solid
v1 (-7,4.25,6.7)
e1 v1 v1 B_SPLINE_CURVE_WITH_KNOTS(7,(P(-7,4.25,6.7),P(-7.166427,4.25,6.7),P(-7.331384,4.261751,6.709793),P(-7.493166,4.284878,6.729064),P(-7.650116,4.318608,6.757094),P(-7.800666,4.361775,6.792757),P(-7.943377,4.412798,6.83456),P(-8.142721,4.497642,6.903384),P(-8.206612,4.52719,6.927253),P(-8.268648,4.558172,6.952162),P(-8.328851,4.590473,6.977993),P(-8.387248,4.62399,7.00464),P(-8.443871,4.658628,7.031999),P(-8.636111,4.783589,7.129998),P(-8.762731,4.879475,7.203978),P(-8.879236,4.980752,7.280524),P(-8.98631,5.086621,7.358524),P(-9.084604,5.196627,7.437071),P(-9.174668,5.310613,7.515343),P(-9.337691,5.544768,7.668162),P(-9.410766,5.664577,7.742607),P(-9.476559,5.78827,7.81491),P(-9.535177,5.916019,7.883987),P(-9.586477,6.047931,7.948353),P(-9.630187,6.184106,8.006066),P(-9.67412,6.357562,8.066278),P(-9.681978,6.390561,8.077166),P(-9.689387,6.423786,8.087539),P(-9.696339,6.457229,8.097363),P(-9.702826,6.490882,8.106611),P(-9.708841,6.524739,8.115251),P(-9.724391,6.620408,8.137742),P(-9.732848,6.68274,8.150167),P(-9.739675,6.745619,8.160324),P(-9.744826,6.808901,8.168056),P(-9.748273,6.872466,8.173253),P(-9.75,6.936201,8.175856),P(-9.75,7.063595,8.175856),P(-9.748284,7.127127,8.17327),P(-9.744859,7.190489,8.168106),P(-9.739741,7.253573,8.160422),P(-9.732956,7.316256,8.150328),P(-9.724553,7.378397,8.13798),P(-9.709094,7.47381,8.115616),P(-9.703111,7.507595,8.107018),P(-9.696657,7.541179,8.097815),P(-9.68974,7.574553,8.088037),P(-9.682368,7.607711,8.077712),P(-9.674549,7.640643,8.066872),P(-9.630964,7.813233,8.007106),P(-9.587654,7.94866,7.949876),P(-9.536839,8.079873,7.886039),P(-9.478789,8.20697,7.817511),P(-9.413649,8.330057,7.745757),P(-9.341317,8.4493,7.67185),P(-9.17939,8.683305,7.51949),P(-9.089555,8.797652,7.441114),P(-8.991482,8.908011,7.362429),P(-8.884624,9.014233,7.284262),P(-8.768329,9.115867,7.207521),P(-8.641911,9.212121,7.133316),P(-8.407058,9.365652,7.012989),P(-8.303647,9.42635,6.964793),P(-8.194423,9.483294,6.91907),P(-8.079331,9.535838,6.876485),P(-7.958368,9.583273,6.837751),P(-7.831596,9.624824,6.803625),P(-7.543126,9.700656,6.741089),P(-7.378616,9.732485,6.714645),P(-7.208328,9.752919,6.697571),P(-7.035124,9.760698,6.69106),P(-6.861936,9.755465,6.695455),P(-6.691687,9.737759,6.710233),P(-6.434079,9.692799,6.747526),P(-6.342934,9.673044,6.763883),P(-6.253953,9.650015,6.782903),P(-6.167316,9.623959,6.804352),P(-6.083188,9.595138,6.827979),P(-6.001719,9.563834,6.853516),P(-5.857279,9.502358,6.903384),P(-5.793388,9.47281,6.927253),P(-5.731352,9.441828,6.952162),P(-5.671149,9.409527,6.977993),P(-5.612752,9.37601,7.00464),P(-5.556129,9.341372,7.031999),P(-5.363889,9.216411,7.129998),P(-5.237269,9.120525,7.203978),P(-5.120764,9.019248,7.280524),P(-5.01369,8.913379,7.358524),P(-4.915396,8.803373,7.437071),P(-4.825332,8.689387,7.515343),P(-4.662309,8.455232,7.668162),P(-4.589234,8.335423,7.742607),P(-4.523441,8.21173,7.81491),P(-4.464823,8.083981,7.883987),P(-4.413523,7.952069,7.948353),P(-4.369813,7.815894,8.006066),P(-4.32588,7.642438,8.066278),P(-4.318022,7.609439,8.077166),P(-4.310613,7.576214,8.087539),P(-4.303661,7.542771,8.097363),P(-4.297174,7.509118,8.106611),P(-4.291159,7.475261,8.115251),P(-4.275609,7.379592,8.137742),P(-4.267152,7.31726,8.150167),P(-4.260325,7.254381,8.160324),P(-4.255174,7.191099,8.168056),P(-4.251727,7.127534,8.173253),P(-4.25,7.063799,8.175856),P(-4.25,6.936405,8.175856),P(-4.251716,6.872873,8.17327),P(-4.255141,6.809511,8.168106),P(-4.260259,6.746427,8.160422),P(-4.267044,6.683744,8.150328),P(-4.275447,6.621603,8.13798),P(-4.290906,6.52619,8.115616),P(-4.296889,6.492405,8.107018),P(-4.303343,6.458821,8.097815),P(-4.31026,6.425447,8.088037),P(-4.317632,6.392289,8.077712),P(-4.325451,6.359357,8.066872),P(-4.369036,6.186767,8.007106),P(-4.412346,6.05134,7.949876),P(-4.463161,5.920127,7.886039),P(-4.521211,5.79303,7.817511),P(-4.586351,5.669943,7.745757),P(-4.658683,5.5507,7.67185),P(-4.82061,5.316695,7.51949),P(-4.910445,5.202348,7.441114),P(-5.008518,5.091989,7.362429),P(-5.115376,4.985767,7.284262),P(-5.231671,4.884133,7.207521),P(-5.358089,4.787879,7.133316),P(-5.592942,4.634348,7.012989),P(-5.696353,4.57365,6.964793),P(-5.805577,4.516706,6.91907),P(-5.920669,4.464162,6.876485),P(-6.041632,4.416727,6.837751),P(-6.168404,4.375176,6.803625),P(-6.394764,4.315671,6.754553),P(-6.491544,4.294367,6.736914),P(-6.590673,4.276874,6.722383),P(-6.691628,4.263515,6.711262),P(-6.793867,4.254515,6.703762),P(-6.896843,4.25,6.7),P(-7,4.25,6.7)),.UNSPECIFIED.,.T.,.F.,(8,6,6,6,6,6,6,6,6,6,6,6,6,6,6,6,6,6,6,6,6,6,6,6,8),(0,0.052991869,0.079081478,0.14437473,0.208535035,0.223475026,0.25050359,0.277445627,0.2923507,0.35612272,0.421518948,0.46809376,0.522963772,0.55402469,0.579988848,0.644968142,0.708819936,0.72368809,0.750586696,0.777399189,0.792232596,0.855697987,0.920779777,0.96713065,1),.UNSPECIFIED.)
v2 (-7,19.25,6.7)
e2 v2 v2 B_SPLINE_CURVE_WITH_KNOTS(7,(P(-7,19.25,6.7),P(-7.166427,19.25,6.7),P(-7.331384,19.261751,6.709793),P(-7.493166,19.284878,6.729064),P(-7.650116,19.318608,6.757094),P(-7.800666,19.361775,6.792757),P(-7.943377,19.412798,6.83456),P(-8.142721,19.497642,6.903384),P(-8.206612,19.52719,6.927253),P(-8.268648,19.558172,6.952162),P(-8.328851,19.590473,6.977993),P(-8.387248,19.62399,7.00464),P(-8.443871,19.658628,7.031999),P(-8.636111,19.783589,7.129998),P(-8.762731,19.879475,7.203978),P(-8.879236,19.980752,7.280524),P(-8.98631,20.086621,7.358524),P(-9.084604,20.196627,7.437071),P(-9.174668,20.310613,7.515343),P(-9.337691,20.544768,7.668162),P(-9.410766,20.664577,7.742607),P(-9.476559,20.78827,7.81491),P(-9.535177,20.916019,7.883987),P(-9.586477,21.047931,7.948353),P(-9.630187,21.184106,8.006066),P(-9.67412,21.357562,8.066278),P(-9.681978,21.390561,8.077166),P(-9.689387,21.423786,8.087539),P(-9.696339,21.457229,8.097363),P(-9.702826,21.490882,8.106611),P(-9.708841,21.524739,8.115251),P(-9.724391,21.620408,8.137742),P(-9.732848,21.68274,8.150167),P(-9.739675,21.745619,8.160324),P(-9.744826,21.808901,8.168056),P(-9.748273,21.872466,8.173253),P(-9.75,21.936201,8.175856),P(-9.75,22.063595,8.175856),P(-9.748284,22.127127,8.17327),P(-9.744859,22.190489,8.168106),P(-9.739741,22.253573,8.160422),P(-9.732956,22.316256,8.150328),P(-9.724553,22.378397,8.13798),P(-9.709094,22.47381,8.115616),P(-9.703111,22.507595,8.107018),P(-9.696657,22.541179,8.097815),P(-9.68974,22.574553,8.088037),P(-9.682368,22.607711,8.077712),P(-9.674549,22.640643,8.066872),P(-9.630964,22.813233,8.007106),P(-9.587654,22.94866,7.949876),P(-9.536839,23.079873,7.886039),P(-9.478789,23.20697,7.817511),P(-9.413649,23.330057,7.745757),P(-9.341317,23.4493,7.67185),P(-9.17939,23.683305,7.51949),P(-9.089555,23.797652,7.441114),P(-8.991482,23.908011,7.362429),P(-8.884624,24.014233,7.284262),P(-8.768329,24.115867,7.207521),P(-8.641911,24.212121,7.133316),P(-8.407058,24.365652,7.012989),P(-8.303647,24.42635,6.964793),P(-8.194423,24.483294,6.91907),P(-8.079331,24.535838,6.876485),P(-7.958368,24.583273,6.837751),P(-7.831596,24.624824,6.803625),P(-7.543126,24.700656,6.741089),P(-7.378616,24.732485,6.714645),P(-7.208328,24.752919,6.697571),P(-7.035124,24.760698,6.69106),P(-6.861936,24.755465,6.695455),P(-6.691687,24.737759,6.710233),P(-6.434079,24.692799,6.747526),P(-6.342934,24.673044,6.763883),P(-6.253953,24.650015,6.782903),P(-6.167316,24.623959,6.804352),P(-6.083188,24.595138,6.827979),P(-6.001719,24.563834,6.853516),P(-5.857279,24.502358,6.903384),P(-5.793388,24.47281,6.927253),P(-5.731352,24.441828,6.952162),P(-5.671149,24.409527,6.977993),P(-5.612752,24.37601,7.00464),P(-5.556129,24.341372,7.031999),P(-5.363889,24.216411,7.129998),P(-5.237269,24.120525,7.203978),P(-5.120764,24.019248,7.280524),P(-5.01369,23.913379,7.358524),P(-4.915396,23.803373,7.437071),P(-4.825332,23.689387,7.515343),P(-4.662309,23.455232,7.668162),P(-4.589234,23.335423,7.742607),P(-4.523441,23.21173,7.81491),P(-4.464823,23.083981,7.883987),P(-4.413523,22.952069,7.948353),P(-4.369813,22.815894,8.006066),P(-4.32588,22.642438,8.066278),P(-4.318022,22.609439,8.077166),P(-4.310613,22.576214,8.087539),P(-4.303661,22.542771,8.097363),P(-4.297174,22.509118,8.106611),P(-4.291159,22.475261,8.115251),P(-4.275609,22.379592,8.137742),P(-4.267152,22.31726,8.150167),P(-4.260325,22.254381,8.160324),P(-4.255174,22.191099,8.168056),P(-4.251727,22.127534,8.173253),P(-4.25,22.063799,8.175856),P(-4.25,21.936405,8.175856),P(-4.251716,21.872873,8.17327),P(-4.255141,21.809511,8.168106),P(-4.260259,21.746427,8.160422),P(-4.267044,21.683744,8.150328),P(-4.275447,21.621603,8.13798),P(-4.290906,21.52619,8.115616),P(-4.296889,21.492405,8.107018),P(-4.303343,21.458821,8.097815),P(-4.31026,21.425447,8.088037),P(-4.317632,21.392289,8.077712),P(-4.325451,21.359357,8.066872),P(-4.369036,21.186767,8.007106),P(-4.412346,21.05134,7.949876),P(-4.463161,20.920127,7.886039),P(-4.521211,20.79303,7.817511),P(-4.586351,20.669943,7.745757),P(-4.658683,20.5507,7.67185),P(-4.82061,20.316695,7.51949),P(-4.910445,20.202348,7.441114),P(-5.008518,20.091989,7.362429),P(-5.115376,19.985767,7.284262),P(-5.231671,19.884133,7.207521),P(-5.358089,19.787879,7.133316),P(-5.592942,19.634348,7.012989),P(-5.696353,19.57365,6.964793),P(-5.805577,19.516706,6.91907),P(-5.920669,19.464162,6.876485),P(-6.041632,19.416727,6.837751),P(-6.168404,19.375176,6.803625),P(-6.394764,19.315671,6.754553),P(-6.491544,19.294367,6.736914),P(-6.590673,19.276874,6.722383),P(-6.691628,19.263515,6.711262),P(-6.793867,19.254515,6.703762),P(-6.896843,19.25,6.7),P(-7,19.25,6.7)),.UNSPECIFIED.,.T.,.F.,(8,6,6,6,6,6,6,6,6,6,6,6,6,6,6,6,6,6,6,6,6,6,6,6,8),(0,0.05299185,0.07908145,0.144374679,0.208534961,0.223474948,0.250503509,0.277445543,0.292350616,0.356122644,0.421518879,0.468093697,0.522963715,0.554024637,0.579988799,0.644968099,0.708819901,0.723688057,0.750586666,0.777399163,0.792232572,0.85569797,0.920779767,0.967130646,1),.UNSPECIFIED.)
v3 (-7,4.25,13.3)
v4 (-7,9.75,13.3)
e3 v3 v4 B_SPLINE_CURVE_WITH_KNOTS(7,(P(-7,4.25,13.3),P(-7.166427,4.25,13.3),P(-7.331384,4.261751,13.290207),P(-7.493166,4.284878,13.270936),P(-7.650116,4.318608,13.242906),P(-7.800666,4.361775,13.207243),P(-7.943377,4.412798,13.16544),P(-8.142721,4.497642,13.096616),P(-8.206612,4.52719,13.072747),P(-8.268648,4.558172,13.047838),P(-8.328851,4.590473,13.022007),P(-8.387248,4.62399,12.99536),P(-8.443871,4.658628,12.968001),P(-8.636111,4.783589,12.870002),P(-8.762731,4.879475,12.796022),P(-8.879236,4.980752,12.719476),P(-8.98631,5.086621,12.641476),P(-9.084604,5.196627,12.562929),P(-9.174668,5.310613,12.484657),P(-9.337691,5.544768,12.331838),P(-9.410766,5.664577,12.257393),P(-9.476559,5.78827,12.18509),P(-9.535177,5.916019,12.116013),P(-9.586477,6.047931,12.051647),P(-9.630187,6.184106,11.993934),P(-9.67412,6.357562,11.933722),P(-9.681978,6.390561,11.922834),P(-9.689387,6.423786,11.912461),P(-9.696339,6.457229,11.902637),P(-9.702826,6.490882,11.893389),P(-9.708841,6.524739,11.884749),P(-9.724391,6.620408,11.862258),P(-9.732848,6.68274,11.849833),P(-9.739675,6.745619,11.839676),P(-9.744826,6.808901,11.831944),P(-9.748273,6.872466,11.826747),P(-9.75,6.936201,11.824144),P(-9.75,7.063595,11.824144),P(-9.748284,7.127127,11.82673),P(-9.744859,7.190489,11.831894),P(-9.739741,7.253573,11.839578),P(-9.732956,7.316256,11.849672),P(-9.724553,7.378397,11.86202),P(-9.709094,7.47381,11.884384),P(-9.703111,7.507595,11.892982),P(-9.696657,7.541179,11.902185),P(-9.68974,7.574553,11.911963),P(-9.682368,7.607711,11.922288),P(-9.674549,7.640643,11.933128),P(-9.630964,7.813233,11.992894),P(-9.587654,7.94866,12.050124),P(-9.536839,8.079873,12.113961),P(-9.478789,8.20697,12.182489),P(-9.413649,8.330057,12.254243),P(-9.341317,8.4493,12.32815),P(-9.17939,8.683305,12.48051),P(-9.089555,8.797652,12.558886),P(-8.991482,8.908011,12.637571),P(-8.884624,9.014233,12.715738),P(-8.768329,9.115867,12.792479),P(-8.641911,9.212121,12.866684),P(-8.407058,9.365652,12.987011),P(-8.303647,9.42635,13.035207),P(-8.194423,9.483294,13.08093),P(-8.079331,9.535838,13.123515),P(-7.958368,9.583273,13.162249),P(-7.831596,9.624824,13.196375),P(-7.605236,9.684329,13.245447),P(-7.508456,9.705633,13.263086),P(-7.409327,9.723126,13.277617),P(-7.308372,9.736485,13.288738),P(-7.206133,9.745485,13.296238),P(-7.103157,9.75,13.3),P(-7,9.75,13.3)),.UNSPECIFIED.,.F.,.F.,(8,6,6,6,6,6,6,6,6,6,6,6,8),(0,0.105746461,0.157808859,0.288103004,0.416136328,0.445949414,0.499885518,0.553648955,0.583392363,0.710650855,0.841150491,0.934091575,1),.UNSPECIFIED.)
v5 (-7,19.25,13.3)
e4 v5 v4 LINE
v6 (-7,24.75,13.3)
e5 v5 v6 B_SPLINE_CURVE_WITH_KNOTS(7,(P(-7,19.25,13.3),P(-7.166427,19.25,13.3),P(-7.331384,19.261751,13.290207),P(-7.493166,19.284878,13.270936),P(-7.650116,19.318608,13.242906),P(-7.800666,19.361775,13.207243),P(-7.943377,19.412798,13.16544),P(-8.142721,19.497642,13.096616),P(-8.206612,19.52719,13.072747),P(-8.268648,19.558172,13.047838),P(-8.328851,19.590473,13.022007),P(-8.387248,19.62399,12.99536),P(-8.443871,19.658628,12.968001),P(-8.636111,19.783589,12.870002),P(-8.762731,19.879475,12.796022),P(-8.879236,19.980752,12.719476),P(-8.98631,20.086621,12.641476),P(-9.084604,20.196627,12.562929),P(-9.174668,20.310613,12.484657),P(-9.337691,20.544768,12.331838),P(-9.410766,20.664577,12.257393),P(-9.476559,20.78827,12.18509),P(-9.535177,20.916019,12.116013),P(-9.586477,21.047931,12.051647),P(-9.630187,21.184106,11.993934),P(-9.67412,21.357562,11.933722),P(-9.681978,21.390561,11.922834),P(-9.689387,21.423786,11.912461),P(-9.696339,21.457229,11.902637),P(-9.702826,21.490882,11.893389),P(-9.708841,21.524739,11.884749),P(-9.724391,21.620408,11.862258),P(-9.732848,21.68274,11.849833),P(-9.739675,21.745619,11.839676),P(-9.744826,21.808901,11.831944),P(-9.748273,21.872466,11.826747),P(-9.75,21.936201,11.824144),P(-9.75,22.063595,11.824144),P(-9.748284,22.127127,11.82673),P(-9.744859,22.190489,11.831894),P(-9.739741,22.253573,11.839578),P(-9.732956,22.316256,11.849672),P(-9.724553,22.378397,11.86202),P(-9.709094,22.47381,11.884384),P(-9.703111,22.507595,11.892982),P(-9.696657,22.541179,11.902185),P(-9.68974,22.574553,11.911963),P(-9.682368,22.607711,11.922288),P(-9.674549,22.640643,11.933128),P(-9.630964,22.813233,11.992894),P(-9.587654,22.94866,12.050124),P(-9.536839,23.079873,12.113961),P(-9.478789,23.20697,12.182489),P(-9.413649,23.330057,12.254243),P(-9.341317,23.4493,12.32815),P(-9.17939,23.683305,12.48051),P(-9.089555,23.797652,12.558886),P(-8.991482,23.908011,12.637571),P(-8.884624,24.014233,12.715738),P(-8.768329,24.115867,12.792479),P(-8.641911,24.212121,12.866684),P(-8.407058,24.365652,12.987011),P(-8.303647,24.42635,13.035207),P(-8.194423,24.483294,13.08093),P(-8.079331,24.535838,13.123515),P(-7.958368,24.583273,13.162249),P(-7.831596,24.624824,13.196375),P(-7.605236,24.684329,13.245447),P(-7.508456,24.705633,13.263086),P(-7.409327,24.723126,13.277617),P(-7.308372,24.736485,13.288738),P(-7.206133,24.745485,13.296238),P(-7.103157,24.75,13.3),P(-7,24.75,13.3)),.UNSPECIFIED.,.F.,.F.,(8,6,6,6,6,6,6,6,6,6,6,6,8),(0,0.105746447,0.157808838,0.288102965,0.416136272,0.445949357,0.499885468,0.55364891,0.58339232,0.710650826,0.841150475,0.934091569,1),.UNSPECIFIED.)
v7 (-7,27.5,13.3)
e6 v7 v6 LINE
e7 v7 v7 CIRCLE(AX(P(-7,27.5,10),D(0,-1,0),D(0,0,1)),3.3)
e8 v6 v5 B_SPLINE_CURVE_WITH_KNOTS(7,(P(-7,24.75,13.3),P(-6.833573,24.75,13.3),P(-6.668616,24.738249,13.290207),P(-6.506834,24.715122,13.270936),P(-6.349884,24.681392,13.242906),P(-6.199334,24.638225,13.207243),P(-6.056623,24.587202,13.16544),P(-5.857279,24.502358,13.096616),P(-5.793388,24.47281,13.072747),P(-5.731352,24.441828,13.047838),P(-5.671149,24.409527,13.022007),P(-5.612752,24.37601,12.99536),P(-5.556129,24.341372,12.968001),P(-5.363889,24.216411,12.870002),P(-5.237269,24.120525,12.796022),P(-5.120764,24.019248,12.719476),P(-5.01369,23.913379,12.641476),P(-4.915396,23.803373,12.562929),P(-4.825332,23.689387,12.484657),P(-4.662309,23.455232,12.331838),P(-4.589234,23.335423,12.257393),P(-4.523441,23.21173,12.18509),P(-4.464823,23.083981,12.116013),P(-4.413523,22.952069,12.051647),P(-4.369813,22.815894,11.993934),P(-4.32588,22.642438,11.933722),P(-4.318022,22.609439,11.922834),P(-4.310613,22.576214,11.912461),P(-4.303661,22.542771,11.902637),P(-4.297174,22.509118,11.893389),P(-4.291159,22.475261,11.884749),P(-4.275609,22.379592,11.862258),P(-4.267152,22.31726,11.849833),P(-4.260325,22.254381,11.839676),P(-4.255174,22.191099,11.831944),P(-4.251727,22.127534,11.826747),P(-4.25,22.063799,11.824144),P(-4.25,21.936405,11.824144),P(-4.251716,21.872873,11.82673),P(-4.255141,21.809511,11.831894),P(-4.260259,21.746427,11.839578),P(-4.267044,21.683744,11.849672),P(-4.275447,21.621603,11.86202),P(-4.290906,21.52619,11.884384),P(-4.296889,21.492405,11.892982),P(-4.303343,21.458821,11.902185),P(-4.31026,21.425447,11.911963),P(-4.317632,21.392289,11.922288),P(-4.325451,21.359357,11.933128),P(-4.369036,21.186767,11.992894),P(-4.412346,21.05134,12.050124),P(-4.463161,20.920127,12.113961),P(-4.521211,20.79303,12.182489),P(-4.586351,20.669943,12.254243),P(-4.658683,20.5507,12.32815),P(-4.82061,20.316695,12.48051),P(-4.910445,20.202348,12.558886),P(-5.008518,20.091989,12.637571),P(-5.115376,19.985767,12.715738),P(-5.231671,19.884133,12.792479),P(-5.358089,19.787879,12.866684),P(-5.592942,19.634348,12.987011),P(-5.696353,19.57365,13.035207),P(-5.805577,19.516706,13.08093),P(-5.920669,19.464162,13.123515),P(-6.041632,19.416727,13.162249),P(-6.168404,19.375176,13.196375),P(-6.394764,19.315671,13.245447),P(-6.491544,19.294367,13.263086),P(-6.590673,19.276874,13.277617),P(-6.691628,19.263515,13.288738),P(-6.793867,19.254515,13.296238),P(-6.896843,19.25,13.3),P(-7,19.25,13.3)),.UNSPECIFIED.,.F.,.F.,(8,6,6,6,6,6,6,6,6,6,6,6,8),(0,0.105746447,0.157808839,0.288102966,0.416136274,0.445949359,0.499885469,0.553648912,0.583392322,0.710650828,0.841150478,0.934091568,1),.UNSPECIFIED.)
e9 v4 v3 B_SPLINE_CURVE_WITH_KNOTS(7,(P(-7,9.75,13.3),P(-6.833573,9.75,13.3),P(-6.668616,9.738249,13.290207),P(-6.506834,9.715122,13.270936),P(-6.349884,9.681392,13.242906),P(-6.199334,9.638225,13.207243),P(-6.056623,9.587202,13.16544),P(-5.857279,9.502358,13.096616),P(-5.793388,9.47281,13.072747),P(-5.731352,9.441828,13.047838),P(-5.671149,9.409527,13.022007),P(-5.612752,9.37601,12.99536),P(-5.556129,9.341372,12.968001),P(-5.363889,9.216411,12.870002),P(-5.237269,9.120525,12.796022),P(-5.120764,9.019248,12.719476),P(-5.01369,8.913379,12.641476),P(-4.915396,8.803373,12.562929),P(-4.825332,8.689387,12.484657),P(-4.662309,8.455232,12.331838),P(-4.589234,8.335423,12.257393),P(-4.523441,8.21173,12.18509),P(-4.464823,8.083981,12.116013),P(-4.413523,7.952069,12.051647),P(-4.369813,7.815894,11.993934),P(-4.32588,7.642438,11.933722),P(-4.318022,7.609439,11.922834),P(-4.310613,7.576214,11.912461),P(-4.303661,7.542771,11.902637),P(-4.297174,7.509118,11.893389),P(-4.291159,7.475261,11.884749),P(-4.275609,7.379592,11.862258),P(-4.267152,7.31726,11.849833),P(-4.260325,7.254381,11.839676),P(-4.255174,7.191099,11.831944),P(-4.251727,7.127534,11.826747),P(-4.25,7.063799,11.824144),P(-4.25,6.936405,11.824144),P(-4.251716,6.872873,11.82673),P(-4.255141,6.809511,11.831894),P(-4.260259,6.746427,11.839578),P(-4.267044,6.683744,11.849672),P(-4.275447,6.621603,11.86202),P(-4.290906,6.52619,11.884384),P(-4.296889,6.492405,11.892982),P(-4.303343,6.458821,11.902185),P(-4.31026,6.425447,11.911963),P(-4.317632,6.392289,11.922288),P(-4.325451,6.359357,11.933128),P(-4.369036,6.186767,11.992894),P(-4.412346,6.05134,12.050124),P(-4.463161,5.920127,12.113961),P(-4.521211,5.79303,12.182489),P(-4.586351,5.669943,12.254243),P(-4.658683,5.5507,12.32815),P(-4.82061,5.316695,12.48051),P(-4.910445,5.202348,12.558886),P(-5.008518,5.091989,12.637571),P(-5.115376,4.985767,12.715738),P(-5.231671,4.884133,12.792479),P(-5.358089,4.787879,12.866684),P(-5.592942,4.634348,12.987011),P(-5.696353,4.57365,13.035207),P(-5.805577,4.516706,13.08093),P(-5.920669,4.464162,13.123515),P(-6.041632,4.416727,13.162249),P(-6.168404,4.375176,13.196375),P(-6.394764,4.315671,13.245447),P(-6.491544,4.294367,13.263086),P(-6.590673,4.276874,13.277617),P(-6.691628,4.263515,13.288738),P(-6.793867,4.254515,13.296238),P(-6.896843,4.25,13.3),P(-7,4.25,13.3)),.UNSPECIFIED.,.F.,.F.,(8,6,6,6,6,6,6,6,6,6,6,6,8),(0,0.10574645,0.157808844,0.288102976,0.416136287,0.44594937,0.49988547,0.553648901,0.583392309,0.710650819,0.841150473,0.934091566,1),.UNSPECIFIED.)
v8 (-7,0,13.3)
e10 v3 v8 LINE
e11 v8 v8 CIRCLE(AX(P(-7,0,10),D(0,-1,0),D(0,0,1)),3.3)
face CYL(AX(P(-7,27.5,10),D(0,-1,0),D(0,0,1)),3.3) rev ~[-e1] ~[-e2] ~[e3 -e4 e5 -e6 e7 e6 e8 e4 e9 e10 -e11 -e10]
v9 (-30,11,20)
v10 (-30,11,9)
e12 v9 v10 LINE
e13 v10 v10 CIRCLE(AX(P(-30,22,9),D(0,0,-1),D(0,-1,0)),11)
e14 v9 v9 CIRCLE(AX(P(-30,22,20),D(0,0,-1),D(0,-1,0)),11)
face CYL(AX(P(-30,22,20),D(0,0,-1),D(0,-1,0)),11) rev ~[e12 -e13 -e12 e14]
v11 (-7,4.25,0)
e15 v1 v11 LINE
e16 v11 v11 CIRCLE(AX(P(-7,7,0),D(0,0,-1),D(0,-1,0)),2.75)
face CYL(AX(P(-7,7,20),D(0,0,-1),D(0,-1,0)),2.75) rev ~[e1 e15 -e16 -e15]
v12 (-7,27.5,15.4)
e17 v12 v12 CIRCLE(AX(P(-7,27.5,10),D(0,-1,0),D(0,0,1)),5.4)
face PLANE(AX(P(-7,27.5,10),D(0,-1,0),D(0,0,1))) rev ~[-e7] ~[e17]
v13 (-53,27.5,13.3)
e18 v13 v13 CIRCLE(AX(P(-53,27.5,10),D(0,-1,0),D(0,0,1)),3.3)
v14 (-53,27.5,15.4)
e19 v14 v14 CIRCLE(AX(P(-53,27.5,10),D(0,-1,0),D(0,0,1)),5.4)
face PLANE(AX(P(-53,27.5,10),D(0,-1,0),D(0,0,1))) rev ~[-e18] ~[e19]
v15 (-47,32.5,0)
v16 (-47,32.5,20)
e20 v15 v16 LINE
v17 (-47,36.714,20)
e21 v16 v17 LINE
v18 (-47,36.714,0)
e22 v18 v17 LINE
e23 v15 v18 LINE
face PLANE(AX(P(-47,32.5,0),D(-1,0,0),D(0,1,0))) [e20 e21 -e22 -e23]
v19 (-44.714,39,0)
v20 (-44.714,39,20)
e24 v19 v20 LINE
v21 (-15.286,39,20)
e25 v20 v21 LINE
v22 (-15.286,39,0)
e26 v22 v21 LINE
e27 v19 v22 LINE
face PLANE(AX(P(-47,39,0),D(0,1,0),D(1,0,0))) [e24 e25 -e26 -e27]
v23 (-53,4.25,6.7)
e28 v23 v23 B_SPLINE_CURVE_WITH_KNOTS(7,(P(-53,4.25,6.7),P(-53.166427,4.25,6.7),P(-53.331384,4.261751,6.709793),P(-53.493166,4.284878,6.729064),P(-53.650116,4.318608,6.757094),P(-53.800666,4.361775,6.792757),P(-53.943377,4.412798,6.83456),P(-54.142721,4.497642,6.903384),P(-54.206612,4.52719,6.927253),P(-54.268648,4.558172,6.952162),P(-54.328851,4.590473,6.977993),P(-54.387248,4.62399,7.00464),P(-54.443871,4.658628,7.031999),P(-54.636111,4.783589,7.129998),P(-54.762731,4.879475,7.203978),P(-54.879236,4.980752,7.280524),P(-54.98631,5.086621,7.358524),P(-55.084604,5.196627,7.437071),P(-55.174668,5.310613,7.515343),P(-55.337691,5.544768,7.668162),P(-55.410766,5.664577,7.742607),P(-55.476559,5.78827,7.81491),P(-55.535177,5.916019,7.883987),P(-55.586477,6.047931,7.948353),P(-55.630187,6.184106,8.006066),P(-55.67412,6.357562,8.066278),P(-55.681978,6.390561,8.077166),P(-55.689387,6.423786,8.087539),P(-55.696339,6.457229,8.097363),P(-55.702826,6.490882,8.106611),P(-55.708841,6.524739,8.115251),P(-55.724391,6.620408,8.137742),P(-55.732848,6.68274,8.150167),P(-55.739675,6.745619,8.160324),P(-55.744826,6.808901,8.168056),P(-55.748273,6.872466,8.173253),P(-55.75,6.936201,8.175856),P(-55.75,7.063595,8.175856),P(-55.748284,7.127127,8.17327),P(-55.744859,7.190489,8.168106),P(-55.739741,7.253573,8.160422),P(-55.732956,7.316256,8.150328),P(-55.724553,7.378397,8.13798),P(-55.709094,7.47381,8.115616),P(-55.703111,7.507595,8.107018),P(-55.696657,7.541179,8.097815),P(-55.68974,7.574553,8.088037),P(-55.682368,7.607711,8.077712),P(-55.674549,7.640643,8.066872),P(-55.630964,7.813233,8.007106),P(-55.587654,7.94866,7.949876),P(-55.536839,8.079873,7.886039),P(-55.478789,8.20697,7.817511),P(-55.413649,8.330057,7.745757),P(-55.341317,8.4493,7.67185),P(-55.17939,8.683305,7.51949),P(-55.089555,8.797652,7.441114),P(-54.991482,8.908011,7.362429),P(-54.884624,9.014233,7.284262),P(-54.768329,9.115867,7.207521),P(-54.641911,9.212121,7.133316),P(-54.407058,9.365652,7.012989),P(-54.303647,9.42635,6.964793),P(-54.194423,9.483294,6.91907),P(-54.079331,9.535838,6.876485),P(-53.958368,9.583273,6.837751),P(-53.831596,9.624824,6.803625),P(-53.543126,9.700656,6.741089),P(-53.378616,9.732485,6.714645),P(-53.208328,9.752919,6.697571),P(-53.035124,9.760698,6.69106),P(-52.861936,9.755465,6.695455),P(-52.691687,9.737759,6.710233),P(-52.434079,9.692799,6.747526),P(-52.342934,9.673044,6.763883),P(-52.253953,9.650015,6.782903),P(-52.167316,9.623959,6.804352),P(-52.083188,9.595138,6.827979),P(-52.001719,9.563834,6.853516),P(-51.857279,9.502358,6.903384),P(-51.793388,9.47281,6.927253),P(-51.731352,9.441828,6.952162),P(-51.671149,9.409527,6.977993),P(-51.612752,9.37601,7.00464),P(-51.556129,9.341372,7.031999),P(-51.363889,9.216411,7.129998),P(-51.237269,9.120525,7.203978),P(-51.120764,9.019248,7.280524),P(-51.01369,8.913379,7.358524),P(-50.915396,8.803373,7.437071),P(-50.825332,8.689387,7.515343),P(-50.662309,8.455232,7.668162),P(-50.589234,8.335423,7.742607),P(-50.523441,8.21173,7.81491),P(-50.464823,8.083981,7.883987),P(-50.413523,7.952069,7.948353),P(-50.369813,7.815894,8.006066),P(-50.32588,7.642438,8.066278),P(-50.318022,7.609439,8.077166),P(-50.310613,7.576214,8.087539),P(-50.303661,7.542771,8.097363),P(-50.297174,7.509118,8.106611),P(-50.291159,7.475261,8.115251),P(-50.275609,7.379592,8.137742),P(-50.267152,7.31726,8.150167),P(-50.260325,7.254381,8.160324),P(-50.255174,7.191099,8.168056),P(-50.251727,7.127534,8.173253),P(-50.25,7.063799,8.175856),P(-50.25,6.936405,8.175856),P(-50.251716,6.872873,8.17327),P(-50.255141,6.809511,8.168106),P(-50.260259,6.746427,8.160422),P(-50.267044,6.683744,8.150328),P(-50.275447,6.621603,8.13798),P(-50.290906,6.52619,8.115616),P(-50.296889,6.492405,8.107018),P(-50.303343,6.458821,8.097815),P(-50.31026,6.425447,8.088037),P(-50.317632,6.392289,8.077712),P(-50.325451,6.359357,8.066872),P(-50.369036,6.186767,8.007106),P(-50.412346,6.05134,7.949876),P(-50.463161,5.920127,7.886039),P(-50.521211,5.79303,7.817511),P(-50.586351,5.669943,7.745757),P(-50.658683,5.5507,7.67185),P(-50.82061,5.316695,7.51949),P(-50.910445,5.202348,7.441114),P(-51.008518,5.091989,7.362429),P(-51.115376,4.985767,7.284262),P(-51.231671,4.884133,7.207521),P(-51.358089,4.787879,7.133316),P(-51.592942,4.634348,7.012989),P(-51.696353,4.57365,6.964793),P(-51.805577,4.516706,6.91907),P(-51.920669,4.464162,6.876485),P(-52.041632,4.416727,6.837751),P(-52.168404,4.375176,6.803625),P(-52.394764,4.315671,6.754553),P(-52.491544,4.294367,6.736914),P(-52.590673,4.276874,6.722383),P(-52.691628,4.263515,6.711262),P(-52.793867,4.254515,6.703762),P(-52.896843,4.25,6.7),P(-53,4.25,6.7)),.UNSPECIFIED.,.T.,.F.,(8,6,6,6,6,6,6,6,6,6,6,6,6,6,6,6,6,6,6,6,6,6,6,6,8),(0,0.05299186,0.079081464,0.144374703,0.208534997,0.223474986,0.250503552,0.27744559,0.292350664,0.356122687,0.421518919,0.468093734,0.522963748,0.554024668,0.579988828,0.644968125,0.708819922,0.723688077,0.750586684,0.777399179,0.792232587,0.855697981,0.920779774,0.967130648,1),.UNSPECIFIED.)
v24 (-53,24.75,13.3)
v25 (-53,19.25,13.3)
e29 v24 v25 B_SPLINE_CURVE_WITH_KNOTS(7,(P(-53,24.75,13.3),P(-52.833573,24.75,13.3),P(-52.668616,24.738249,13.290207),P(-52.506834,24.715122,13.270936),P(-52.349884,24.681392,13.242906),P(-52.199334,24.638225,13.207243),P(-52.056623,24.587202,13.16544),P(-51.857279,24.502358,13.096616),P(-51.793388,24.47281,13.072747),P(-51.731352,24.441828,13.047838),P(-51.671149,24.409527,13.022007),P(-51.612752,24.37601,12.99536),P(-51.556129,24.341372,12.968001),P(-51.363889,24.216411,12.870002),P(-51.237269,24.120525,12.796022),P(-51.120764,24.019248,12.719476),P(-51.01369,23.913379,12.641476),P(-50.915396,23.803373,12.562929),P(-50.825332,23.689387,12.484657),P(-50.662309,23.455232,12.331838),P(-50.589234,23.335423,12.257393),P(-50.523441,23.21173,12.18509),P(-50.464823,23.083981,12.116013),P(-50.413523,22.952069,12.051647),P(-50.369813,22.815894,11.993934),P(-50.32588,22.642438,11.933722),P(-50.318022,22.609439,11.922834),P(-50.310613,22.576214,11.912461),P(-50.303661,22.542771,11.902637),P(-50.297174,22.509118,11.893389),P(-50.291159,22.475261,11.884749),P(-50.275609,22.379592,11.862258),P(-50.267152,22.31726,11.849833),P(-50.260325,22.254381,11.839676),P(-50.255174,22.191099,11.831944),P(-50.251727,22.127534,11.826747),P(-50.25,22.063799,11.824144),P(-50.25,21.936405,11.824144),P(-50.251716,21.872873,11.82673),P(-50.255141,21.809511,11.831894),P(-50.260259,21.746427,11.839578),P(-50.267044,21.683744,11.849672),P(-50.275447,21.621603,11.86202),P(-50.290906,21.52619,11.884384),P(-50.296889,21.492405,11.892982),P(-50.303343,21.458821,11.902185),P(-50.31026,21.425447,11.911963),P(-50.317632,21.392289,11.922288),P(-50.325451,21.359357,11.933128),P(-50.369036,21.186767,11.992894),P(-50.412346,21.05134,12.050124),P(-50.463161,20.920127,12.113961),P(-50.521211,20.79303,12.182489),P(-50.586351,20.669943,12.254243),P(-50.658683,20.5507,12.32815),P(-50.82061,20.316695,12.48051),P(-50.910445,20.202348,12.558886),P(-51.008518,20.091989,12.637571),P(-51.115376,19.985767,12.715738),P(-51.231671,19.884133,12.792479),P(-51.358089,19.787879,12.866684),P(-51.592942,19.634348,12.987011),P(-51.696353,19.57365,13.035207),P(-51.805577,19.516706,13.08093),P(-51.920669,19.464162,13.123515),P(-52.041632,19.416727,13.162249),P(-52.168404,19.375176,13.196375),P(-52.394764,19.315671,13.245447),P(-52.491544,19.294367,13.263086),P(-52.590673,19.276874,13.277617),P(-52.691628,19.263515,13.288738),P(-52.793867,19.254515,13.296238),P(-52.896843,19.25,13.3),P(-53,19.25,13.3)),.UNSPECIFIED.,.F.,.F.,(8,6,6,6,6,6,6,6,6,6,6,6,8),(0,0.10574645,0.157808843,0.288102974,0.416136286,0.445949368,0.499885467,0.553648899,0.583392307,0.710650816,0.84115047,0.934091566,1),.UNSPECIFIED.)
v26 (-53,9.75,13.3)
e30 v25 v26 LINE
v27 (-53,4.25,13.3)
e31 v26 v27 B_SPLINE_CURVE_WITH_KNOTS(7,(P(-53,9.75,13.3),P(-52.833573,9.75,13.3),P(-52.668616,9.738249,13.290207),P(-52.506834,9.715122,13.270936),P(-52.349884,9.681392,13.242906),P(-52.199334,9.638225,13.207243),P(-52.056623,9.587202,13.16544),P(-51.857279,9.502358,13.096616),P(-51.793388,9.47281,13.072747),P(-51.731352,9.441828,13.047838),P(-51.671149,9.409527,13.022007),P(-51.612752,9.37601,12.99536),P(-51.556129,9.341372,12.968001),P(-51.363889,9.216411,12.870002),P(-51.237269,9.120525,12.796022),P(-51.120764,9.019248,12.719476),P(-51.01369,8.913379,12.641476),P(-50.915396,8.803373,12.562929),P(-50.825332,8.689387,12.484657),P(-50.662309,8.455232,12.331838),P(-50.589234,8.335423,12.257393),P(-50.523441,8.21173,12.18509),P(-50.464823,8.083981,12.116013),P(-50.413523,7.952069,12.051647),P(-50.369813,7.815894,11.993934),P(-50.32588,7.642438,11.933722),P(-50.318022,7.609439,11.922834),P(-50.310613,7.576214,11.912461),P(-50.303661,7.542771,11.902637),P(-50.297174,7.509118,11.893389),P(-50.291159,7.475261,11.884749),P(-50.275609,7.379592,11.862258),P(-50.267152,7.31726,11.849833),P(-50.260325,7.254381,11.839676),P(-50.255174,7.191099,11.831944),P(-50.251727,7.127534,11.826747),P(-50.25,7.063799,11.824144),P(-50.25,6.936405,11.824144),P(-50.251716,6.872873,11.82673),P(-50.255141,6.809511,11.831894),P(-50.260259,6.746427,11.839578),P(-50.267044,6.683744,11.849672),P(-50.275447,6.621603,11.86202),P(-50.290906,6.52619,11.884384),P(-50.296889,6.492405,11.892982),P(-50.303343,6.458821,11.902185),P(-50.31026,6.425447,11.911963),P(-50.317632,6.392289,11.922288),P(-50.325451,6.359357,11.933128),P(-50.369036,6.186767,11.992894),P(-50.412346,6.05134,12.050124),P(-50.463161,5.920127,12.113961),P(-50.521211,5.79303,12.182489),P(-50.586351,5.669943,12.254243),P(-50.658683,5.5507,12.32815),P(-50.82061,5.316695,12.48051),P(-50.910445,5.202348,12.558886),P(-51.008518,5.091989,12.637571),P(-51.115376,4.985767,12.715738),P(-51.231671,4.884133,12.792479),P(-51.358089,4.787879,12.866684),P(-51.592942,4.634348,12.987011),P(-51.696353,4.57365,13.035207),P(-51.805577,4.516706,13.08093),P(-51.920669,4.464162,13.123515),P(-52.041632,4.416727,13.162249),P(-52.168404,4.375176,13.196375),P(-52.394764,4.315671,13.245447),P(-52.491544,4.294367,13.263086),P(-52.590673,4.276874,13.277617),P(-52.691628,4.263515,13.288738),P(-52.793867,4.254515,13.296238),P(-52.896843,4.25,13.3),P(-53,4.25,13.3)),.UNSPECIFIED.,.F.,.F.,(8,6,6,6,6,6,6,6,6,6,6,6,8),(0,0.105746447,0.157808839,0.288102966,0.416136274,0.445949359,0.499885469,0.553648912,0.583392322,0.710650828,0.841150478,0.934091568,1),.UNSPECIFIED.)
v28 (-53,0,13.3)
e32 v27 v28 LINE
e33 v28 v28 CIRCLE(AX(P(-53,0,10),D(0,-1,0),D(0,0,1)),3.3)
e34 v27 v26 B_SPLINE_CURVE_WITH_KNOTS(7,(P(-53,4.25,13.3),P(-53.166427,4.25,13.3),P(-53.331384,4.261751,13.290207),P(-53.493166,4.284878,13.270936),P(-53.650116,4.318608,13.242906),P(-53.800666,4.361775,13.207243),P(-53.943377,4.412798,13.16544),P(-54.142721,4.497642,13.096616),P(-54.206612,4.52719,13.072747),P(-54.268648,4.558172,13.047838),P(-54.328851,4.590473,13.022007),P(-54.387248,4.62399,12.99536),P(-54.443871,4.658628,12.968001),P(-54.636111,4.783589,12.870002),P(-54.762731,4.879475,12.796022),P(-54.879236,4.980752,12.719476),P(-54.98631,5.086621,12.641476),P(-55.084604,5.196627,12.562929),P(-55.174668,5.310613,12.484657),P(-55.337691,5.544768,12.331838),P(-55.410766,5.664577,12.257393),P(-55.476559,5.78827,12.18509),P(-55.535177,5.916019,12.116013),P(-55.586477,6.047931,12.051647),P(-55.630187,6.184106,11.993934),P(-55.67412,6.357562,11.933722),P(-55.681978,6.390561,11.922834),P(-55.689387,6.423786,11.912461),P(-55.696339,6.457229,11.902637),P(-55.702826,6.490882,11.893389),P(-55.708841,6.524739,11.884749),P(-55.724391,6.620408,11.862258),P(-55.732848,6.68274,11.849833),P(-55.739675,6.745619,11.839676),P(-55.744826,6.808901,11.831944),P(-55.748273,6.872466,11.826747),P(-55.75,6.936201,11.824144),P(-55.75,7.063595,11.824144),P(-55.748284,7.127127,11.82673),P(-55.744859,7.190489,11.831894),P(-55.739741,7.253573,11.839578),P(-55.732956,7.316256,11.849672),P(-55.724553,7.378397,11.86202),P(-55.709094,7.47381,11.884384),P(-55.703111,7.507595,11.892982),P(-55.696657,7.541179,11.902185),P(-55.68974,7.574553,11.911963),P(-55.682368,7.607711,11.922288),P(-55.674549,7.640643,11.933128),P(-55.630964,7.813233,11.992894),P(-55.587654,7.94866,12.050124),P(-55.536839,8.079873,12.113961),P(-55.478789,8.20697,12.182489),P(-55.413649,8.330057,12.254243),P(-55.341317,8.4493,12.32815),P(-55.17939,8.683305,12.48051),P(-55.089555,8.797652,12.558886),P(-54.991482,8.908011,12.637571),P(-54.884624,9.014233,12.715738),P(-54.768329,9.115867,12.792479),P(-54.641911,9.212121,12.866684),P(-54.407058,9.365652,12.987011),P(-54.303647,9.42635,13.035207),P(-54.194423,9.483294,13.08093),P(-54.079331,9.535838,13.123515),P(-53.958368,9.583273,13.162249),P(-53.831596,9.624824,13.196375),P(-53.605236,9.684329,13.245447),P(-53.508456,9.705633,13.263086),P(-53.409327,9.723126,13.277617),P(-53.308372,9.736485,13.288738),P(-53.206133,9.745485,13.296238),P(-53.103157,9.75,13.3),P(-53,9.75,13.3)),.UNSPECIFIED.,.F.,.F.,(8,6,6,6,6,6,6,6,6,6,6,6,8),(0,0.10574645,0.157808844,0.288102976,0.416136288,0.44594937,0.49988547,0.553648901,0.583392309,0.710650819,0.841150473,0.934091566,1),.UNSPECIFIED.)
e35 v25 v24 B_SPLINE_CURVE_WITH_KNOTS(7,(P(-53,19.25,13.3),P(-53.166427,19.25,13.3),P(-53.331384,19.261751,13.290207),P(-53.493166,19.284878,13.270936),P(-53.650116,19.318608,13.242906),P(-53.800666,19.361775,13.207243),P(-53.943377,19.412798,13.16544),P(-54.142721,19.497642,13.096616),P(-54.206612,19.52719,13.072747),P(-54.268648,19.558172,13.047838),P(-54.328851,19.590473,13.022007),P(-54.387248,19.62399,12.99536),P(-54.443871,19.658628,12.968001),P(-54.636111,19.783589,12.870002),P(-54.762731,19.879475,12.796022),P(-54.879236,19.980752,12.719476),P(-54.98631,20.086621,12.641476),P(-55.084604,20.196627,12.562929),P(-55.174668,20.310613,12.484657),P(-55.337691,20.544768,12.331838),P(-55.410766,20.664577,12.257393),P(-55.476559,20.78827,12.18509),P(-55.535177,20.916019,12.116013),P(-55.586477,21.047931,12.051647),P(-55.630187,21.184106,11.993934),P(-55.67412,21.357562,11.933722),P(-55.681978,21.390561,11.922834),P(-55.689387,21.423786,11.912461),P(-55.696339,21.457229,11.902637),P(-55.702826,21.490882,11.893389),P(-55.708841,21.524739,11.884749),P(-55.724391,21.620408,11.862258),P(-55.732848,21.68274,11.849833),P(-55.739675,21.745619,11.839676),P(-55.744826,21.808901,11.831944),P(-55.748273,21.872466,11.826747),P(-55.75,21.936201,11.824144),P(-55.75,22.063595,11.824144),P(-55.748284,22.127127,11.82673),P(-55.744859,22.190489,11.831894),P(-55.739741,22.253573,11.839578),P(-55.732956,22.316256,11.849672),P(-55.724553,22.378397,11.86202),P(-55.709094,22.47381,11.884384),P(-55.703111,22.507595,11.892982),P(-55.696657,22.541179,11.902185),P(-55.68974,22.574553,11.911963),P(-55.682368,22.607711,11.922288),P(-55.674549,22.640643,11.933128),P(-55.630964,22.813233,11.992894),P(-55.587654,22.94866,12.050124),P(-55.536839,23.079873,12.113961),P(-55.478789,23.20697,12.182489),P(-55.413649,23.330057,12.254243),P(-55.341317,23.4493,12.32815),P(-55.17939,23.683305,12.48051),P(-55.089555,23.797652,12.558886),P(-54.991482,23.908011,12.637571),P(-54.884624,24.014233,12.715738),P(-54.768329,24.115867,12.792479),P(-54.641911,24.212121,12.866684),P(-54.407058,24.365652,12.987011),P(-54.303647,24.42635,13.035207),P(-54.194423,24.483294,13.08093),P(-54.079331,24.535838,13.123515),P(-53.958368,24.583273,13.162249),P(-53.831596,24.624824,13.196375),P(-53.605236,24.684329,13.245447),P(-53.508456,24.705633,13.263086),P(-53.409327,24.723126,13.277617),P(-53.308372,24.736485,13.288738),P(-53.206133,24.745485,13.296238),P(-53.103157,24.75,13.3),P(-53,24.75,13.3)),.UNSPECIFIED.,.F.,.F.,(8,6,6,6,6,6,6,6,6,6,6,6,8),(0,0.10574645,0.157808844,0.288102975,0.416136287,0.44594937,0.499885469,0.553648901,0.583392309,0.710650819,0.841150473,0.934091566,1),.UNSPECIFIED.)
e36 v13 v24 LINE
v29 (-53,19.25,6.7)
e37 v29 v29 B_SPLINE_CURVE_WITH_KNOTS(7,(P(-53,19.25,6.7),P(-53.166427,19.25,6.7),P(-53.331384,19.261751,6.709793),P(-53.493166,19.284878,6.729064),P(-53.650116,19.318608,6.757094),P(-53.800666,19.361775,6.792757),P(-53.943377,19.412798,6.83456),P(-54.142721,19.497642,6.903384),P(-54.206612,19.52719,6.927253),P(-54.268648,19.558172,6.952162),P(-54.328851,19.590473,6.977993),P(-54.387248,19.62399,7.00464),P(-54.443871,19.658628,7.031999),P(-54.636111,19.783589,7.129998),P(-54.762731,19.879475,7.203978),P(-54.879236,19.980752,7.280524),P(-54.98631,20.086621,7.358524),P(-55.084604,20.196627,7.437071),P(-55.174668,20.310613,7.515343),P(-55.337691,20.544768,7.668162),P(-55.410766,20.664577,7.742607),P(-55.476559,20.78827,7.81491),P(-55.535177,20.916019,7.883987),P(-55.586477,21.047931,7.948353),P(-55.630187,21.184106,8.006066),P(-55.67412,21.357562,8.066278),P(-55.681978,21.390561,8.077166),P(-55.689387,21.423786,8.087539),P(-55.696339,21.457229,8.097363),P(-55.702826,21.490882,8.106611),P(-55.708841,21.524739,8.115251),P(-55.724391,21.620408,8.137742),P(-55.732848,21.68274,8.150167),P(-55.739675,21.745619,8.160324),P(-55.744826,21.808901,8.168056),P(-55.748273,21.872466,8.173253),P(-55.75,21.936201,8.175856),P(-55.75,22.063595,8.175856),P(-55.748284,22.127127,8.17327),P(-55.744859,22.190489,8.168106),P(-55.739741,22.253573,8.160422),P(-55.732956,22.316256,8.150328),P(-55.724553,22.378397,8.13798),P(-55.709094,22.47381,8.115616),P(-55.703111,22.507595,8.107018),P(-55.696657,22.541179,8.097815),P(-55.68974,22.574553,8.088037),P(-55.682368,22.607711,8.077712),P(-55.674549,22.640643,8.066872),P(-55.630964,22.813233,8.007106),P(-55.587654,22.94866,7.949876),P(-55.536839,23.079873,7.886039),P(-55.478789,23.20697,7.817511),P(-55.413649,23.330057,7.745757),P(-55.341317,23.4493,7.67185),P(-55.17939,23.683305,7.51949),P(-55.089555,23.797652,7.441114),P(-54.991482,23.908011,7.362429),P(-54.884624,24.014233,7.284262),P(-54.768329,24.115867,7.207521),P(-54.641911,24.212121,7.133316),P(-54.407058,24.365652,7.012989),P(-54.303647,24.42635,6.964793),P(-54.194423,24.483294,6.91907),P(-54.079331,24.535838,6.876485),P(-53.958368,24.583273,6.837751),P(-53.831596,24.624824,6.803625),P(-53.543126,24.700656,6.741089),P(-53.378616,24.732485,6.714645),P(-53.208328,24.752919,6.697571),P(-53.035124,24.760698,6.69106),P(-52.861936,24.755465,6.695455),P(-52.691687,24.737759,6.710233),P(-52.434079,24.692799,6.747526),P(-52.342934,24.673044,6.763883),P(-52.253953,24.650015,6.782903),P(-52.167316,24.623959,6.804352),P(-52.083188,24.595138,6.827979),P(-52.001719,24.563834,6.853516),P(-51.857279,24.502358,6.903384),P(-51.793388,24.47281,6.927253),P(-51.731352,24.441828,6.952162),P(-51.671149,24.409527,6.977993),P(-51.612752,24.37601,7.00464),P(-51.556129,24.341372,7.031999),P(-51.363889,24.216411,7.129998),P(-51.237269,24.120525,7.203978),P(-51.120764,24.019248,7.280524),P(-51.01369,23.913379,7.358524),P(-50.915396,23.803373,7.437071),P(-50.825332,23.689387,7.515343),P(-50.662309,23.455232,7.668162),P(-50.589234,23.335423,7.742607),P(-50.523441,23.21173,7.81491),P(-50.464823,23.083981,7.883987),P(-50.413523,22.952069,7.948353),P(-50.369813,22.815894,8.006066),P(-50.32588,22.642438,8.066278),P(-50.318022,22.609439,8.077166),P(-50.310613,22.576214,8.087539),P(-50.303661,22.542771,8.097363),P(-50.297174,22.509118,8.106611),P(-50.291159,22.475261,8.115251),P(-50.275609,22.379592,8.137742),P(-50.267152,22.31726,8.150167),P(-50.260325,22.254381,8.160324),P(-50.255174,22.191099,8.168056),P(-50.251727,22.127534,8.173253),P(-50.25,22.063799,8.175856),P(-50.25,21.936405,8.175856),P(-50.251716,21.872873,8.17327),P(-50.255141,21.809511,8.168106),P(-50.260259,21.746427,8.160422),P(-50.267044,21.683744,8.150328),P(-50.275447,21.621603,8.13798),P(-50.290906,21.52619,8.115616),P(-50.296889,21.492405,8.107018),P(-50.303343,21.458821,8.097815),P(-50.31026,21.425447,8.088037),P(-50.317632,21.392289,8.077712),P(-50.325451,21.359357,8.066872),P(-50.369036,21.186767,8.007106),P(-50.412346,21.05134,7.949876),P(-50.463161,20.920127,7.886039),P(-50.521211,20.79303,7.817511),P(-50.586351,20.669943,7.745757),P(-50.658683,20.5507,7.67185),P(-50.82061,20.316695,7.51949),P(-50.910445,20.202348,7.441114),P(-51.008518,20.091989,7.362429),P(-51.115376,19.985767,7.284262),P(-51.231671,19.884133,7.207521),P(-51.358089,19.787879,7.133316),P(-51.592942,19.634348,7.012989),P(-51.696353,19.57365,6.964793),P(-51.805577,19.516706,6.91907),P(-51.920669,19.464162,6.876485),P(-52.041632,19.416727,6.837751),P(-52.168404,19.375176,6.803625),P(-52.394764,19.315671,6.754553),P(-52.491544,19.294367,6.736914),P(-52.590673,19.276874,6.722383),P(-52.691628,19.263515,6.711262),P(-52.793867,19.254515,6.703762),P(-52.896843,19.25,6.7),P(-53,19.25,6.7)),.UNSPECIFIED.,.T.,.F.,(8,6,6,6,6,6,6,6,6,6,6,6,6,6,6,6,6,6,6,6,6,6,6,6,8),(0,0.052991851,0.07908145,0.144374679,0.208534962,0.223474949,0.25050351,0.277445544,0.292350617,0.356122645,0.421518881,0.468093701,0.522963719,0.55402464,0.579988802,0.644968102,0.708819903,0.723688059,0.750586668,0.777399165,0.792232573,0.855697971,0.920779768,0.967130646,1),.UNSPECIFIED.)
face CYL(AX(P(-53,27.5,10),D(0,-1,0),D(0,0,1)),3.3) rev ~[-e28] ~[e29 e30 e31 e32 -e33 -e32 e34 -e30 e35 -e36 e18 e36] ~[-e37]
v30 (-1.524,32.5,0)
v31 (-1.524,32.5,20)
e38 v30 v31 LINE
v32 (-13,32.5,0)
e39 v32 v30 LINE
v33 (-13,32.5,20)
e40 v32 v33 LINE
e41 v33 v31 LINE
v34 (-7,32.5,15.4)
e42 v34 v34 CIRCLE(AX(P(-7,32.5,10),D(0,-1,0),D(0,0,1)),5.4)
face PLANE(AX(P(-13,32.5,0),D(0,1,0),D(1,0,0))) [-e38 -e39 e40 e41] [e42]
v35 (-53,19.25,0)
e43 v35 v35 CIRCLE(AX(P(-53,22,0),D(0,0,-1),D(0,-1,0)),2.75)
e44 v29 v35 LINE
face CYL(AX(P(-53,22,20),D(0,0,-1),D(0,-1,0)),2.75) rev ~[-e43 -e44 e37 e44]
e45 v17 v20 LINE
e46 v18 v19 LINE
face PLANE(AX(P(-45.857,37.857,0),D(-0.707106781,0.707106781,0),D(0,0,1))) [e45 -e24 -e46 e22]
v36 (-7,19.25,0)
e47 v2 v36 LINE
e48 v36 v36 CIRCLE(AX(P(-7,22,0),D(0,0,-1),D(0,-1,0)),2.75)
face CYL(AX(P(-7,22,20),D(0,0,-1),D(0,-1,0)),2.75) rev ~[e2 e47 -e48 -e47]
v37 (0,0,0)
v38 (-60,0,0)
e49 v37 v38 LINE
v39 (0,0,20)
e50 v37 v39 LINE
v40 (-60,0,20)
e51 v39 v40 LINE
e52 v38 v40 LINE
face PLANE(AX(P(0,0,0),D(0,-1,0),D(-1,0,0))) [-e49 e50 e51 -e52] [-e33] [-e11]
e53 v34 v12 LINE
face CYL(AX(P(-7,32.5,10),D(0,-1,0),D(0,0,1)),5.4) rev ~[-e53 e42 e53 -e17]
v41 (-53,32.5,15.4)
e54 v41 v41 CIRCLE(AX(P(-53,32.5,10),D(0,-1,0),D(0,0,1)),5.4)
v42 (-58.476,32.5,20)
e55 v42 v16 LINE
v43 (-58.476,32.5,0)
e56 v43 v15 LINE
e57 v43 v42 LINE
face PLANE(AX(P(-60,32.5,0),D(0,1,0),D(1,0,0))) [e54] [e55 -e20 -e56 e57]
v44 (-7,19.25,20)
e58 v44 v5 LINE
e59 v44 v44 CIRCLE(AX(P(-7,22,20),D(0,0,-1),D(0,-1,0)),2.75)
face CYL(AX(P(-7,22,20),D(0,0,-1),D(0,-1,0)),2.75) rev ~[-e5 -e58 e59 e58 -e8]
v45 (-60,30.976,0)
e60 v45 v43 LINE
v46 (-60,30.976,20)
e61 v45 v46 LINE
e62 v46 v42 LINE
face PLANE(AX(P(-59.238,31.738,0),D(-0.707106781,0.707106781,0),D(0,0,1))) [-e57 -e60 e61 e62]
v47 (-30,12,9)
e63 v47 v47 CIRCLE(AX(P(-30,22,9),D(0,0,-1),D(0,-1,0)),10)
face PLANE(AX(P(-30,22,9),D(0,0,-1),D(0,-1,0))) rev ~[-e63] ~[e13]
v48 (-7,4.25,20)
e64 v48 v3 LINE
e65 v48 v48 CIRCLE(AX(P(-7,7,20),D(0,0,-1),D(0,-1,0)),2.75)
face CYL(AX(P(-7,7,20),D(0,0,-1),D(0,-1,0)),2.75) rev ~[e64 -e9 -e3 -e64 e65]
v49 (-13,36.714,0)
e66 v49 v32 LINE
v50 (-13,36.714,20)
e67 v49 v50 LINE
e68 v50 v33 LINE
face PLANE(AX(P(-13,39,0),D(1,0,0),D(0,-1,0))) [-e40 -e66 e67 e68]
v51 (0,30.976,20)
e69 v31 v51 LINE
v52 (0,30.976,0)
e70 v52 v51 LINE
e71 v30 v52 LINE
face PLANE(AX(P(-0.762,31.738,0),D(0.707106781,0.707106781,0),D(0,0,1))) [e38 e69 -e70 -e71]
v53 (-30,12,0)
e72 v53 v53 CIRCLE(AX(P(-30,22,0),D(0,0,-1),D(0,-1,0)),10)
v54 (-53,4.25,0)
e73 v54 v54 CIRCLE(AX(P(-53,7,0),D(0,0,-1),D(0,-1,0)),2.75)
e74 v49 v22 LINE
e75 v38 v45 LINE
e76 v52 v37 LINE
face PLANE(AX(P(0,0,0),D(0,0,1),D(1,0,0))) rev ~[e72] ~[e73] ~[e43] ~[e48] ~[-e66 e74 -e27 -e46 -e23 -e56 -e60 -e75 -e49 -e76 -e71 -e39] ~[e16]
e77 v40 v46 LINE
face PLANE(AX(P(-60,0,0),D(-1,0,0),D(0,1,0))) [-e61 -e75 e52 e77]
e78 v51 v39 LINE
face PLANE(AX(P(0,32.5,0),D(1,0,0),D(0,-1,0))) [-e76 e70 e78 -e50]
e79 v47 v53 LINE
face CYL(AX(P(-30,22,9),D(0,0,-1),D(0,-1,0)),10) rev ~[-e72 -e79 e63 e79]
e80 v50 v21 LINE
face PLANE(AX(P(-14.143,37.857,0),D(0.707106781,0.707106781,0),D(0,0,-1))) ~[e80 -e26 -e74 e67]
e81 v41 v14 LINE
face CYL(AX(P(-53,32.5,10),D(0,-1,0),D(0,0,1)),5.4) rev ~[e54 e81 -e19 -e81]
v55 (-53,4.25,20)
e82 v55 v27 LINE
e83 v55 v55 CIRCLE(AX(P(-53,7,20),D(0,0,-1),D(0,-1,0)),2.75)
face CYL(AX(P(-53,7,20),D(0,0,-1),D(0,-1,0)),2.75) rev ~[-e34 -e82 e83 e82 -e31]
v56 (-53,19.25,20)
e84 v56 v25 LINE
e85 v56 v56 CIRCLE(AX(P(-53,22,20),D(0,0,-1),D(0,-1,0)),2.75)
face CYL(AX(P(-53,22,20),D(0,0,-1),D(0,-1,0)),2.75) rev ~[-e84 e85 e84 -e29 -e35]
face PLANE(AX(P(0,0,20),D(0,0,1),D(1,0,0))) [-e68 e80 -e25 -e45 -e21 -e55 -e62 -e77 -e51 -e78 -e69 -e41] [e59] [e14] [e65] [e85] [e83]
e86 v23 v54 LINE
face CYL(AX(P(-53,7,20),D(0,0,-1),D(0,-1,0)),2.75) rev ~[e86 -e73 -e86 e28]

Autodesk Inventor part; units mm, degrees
ref_plane "YZ Plane" through (0, 0, 0) normal (1, 0, 0) x (0, 1, 0)
ref_plane "XZ Plane" through (0, 0, 0) normal (0, 1, 0) x (-1, 0, 0)
ref_plane "XY Plane" through (0, 0, 0) normal (0, 0, 1) x (1, 0, 0)
sketch "Sketch1" plane through (0, 0, 0) normal (0, 0, 1) x (1, 0, 0)
  line L0 (0, 0) -> (-60, 0)
  line L1 (-60, 0) -> (-60, 32.5)
  line L2 (-60, 32.5) -> (0, 32.5)
  line L3 (0, 32.5) -> (0, 0)
  line L4 (-47, 39) -> (-13, 39)
  line L5 (-13, 39) -> (-13, 32.5)
  line L6 (-13, 32.5) -> (-47, 32.5)
  line L7 (-47, 32.5) -> (-47, 39)
  point P0 (-30, 32.5)
  dimension "d0" = 60
  dimension "d1" = 39
  dimension "d2" = 34
  dimension "d3" = 32.5
extrude "Extrusion1" add sketch "Sketch1" along normal blind 20
sketch "Sketch2" plane through (0, 0, 20) normal (0, 0, 1) x (1, 0, 0)
  line L0 (-13, 32.5) -> (-13, 39) projected
  line L1 (-13, 39) -> (-47, 39) projected
  line L2 (-47, 39) -> (-47, 32.5) projected
  line L3 (-47, 32.5) -> (-60, 32.5) projected
  line L4 (-60, 32.5) -> (-60, 0) projected
  line L5 (-60, 0) -> (0, 0) projected
  line L6 (0, 0) -> (0, 32.5) projected
  line L7 (0, 32.5) -> (-13, 32.5) projected
  line L8 (-30, 0) -> (-30, 22) construction
  dimension "d6" = 22
hole "Hole1" at (-30, 22, 20) direction (0, 0, -1) diameter 20 end through all counterbore diameter 22 counterbore depth 11
sketch "Sketch3" plane through (0, 0, 20) normal (0, 0, 1) x (1, 0, 0)
  circle A0 centre (-30, 22) radius 11 construction
  line L0 (-13, 32.5) -> (-13, 39) construction
  line L1 (-13, 39) -> (-47, 39) construction
  line L2 (-47, 39) -> (-47, 32.5) construction
  line L3 (-47, 32.5) -> (-60, 32.5) construction
  line L4 (-60, 32.5) -> (-60, 0) construction
  line L5 (-60, 0) -> (0, 0) construction
  line L6 (0, 0) -> (0, 32.5) construction
  line L7 (0, 32.5) -> (-13, 32.5) construction
  line L8 (-53, 22) -> (-7, 22) construction
  line L9 (-7, 22) -> (-7, 7) construction
  line L10 (-7, 7) -> (-53, 7) construction
  line L11 (-53, 7) -> (-53, 22) construction
  dimension "d14" = 15
  dimension "d16" = 46
hole "Hole2" at (-7, 22, 20) at (-7, 7, 20) at (-53, 22, 20) at (-53, 7, 20) direction (0, 0, -1) diameter 5.5 end through all
sketch "Sketch4" plane through (-60, 32.5, 0) normal (0, 1, 0) x (1, 0, 0)
  line L0 (13, 0) -> (13, -20) construction
  line L1 (13, 0) -> (0, 0) construction
  line L2 (0, 0) -> (0, -20) construction
  line L3 (13, -20) -> (0, -20) construction
  line L4 (47, 0) -> (47, -20) construction
  line L5 (60, -20) -> (47, -20) construction
  line L6 (60, 0) -> (60, -20) construction
  line L7 (60, 0) -> (47, 0) construction
  line L8 (60, -10) -> (53, -10) construction
  line L9 (0, -10) -> (7, -10) construction
  dimension "d24" = 46
hole "Hole3" at (-53, 32.5, 10) at (-7, 32.5, 10) direction (0, -1, 0) diameter 6.6 end through all counterbore diameter 10.8 counterbore depth 5
chamfer "Chamfer1" distance 2.286 angle 45 2 edges at (-47, 39, 10) (-13, 39, 10)
chamfer "Chamfer2" distance 1.524 angle 45 2 edges at (-60, 32.5, 10) (0, 32.5, 10)
properties part number "BF10 BEARING BLOCK" material "Aluminum 6061"
